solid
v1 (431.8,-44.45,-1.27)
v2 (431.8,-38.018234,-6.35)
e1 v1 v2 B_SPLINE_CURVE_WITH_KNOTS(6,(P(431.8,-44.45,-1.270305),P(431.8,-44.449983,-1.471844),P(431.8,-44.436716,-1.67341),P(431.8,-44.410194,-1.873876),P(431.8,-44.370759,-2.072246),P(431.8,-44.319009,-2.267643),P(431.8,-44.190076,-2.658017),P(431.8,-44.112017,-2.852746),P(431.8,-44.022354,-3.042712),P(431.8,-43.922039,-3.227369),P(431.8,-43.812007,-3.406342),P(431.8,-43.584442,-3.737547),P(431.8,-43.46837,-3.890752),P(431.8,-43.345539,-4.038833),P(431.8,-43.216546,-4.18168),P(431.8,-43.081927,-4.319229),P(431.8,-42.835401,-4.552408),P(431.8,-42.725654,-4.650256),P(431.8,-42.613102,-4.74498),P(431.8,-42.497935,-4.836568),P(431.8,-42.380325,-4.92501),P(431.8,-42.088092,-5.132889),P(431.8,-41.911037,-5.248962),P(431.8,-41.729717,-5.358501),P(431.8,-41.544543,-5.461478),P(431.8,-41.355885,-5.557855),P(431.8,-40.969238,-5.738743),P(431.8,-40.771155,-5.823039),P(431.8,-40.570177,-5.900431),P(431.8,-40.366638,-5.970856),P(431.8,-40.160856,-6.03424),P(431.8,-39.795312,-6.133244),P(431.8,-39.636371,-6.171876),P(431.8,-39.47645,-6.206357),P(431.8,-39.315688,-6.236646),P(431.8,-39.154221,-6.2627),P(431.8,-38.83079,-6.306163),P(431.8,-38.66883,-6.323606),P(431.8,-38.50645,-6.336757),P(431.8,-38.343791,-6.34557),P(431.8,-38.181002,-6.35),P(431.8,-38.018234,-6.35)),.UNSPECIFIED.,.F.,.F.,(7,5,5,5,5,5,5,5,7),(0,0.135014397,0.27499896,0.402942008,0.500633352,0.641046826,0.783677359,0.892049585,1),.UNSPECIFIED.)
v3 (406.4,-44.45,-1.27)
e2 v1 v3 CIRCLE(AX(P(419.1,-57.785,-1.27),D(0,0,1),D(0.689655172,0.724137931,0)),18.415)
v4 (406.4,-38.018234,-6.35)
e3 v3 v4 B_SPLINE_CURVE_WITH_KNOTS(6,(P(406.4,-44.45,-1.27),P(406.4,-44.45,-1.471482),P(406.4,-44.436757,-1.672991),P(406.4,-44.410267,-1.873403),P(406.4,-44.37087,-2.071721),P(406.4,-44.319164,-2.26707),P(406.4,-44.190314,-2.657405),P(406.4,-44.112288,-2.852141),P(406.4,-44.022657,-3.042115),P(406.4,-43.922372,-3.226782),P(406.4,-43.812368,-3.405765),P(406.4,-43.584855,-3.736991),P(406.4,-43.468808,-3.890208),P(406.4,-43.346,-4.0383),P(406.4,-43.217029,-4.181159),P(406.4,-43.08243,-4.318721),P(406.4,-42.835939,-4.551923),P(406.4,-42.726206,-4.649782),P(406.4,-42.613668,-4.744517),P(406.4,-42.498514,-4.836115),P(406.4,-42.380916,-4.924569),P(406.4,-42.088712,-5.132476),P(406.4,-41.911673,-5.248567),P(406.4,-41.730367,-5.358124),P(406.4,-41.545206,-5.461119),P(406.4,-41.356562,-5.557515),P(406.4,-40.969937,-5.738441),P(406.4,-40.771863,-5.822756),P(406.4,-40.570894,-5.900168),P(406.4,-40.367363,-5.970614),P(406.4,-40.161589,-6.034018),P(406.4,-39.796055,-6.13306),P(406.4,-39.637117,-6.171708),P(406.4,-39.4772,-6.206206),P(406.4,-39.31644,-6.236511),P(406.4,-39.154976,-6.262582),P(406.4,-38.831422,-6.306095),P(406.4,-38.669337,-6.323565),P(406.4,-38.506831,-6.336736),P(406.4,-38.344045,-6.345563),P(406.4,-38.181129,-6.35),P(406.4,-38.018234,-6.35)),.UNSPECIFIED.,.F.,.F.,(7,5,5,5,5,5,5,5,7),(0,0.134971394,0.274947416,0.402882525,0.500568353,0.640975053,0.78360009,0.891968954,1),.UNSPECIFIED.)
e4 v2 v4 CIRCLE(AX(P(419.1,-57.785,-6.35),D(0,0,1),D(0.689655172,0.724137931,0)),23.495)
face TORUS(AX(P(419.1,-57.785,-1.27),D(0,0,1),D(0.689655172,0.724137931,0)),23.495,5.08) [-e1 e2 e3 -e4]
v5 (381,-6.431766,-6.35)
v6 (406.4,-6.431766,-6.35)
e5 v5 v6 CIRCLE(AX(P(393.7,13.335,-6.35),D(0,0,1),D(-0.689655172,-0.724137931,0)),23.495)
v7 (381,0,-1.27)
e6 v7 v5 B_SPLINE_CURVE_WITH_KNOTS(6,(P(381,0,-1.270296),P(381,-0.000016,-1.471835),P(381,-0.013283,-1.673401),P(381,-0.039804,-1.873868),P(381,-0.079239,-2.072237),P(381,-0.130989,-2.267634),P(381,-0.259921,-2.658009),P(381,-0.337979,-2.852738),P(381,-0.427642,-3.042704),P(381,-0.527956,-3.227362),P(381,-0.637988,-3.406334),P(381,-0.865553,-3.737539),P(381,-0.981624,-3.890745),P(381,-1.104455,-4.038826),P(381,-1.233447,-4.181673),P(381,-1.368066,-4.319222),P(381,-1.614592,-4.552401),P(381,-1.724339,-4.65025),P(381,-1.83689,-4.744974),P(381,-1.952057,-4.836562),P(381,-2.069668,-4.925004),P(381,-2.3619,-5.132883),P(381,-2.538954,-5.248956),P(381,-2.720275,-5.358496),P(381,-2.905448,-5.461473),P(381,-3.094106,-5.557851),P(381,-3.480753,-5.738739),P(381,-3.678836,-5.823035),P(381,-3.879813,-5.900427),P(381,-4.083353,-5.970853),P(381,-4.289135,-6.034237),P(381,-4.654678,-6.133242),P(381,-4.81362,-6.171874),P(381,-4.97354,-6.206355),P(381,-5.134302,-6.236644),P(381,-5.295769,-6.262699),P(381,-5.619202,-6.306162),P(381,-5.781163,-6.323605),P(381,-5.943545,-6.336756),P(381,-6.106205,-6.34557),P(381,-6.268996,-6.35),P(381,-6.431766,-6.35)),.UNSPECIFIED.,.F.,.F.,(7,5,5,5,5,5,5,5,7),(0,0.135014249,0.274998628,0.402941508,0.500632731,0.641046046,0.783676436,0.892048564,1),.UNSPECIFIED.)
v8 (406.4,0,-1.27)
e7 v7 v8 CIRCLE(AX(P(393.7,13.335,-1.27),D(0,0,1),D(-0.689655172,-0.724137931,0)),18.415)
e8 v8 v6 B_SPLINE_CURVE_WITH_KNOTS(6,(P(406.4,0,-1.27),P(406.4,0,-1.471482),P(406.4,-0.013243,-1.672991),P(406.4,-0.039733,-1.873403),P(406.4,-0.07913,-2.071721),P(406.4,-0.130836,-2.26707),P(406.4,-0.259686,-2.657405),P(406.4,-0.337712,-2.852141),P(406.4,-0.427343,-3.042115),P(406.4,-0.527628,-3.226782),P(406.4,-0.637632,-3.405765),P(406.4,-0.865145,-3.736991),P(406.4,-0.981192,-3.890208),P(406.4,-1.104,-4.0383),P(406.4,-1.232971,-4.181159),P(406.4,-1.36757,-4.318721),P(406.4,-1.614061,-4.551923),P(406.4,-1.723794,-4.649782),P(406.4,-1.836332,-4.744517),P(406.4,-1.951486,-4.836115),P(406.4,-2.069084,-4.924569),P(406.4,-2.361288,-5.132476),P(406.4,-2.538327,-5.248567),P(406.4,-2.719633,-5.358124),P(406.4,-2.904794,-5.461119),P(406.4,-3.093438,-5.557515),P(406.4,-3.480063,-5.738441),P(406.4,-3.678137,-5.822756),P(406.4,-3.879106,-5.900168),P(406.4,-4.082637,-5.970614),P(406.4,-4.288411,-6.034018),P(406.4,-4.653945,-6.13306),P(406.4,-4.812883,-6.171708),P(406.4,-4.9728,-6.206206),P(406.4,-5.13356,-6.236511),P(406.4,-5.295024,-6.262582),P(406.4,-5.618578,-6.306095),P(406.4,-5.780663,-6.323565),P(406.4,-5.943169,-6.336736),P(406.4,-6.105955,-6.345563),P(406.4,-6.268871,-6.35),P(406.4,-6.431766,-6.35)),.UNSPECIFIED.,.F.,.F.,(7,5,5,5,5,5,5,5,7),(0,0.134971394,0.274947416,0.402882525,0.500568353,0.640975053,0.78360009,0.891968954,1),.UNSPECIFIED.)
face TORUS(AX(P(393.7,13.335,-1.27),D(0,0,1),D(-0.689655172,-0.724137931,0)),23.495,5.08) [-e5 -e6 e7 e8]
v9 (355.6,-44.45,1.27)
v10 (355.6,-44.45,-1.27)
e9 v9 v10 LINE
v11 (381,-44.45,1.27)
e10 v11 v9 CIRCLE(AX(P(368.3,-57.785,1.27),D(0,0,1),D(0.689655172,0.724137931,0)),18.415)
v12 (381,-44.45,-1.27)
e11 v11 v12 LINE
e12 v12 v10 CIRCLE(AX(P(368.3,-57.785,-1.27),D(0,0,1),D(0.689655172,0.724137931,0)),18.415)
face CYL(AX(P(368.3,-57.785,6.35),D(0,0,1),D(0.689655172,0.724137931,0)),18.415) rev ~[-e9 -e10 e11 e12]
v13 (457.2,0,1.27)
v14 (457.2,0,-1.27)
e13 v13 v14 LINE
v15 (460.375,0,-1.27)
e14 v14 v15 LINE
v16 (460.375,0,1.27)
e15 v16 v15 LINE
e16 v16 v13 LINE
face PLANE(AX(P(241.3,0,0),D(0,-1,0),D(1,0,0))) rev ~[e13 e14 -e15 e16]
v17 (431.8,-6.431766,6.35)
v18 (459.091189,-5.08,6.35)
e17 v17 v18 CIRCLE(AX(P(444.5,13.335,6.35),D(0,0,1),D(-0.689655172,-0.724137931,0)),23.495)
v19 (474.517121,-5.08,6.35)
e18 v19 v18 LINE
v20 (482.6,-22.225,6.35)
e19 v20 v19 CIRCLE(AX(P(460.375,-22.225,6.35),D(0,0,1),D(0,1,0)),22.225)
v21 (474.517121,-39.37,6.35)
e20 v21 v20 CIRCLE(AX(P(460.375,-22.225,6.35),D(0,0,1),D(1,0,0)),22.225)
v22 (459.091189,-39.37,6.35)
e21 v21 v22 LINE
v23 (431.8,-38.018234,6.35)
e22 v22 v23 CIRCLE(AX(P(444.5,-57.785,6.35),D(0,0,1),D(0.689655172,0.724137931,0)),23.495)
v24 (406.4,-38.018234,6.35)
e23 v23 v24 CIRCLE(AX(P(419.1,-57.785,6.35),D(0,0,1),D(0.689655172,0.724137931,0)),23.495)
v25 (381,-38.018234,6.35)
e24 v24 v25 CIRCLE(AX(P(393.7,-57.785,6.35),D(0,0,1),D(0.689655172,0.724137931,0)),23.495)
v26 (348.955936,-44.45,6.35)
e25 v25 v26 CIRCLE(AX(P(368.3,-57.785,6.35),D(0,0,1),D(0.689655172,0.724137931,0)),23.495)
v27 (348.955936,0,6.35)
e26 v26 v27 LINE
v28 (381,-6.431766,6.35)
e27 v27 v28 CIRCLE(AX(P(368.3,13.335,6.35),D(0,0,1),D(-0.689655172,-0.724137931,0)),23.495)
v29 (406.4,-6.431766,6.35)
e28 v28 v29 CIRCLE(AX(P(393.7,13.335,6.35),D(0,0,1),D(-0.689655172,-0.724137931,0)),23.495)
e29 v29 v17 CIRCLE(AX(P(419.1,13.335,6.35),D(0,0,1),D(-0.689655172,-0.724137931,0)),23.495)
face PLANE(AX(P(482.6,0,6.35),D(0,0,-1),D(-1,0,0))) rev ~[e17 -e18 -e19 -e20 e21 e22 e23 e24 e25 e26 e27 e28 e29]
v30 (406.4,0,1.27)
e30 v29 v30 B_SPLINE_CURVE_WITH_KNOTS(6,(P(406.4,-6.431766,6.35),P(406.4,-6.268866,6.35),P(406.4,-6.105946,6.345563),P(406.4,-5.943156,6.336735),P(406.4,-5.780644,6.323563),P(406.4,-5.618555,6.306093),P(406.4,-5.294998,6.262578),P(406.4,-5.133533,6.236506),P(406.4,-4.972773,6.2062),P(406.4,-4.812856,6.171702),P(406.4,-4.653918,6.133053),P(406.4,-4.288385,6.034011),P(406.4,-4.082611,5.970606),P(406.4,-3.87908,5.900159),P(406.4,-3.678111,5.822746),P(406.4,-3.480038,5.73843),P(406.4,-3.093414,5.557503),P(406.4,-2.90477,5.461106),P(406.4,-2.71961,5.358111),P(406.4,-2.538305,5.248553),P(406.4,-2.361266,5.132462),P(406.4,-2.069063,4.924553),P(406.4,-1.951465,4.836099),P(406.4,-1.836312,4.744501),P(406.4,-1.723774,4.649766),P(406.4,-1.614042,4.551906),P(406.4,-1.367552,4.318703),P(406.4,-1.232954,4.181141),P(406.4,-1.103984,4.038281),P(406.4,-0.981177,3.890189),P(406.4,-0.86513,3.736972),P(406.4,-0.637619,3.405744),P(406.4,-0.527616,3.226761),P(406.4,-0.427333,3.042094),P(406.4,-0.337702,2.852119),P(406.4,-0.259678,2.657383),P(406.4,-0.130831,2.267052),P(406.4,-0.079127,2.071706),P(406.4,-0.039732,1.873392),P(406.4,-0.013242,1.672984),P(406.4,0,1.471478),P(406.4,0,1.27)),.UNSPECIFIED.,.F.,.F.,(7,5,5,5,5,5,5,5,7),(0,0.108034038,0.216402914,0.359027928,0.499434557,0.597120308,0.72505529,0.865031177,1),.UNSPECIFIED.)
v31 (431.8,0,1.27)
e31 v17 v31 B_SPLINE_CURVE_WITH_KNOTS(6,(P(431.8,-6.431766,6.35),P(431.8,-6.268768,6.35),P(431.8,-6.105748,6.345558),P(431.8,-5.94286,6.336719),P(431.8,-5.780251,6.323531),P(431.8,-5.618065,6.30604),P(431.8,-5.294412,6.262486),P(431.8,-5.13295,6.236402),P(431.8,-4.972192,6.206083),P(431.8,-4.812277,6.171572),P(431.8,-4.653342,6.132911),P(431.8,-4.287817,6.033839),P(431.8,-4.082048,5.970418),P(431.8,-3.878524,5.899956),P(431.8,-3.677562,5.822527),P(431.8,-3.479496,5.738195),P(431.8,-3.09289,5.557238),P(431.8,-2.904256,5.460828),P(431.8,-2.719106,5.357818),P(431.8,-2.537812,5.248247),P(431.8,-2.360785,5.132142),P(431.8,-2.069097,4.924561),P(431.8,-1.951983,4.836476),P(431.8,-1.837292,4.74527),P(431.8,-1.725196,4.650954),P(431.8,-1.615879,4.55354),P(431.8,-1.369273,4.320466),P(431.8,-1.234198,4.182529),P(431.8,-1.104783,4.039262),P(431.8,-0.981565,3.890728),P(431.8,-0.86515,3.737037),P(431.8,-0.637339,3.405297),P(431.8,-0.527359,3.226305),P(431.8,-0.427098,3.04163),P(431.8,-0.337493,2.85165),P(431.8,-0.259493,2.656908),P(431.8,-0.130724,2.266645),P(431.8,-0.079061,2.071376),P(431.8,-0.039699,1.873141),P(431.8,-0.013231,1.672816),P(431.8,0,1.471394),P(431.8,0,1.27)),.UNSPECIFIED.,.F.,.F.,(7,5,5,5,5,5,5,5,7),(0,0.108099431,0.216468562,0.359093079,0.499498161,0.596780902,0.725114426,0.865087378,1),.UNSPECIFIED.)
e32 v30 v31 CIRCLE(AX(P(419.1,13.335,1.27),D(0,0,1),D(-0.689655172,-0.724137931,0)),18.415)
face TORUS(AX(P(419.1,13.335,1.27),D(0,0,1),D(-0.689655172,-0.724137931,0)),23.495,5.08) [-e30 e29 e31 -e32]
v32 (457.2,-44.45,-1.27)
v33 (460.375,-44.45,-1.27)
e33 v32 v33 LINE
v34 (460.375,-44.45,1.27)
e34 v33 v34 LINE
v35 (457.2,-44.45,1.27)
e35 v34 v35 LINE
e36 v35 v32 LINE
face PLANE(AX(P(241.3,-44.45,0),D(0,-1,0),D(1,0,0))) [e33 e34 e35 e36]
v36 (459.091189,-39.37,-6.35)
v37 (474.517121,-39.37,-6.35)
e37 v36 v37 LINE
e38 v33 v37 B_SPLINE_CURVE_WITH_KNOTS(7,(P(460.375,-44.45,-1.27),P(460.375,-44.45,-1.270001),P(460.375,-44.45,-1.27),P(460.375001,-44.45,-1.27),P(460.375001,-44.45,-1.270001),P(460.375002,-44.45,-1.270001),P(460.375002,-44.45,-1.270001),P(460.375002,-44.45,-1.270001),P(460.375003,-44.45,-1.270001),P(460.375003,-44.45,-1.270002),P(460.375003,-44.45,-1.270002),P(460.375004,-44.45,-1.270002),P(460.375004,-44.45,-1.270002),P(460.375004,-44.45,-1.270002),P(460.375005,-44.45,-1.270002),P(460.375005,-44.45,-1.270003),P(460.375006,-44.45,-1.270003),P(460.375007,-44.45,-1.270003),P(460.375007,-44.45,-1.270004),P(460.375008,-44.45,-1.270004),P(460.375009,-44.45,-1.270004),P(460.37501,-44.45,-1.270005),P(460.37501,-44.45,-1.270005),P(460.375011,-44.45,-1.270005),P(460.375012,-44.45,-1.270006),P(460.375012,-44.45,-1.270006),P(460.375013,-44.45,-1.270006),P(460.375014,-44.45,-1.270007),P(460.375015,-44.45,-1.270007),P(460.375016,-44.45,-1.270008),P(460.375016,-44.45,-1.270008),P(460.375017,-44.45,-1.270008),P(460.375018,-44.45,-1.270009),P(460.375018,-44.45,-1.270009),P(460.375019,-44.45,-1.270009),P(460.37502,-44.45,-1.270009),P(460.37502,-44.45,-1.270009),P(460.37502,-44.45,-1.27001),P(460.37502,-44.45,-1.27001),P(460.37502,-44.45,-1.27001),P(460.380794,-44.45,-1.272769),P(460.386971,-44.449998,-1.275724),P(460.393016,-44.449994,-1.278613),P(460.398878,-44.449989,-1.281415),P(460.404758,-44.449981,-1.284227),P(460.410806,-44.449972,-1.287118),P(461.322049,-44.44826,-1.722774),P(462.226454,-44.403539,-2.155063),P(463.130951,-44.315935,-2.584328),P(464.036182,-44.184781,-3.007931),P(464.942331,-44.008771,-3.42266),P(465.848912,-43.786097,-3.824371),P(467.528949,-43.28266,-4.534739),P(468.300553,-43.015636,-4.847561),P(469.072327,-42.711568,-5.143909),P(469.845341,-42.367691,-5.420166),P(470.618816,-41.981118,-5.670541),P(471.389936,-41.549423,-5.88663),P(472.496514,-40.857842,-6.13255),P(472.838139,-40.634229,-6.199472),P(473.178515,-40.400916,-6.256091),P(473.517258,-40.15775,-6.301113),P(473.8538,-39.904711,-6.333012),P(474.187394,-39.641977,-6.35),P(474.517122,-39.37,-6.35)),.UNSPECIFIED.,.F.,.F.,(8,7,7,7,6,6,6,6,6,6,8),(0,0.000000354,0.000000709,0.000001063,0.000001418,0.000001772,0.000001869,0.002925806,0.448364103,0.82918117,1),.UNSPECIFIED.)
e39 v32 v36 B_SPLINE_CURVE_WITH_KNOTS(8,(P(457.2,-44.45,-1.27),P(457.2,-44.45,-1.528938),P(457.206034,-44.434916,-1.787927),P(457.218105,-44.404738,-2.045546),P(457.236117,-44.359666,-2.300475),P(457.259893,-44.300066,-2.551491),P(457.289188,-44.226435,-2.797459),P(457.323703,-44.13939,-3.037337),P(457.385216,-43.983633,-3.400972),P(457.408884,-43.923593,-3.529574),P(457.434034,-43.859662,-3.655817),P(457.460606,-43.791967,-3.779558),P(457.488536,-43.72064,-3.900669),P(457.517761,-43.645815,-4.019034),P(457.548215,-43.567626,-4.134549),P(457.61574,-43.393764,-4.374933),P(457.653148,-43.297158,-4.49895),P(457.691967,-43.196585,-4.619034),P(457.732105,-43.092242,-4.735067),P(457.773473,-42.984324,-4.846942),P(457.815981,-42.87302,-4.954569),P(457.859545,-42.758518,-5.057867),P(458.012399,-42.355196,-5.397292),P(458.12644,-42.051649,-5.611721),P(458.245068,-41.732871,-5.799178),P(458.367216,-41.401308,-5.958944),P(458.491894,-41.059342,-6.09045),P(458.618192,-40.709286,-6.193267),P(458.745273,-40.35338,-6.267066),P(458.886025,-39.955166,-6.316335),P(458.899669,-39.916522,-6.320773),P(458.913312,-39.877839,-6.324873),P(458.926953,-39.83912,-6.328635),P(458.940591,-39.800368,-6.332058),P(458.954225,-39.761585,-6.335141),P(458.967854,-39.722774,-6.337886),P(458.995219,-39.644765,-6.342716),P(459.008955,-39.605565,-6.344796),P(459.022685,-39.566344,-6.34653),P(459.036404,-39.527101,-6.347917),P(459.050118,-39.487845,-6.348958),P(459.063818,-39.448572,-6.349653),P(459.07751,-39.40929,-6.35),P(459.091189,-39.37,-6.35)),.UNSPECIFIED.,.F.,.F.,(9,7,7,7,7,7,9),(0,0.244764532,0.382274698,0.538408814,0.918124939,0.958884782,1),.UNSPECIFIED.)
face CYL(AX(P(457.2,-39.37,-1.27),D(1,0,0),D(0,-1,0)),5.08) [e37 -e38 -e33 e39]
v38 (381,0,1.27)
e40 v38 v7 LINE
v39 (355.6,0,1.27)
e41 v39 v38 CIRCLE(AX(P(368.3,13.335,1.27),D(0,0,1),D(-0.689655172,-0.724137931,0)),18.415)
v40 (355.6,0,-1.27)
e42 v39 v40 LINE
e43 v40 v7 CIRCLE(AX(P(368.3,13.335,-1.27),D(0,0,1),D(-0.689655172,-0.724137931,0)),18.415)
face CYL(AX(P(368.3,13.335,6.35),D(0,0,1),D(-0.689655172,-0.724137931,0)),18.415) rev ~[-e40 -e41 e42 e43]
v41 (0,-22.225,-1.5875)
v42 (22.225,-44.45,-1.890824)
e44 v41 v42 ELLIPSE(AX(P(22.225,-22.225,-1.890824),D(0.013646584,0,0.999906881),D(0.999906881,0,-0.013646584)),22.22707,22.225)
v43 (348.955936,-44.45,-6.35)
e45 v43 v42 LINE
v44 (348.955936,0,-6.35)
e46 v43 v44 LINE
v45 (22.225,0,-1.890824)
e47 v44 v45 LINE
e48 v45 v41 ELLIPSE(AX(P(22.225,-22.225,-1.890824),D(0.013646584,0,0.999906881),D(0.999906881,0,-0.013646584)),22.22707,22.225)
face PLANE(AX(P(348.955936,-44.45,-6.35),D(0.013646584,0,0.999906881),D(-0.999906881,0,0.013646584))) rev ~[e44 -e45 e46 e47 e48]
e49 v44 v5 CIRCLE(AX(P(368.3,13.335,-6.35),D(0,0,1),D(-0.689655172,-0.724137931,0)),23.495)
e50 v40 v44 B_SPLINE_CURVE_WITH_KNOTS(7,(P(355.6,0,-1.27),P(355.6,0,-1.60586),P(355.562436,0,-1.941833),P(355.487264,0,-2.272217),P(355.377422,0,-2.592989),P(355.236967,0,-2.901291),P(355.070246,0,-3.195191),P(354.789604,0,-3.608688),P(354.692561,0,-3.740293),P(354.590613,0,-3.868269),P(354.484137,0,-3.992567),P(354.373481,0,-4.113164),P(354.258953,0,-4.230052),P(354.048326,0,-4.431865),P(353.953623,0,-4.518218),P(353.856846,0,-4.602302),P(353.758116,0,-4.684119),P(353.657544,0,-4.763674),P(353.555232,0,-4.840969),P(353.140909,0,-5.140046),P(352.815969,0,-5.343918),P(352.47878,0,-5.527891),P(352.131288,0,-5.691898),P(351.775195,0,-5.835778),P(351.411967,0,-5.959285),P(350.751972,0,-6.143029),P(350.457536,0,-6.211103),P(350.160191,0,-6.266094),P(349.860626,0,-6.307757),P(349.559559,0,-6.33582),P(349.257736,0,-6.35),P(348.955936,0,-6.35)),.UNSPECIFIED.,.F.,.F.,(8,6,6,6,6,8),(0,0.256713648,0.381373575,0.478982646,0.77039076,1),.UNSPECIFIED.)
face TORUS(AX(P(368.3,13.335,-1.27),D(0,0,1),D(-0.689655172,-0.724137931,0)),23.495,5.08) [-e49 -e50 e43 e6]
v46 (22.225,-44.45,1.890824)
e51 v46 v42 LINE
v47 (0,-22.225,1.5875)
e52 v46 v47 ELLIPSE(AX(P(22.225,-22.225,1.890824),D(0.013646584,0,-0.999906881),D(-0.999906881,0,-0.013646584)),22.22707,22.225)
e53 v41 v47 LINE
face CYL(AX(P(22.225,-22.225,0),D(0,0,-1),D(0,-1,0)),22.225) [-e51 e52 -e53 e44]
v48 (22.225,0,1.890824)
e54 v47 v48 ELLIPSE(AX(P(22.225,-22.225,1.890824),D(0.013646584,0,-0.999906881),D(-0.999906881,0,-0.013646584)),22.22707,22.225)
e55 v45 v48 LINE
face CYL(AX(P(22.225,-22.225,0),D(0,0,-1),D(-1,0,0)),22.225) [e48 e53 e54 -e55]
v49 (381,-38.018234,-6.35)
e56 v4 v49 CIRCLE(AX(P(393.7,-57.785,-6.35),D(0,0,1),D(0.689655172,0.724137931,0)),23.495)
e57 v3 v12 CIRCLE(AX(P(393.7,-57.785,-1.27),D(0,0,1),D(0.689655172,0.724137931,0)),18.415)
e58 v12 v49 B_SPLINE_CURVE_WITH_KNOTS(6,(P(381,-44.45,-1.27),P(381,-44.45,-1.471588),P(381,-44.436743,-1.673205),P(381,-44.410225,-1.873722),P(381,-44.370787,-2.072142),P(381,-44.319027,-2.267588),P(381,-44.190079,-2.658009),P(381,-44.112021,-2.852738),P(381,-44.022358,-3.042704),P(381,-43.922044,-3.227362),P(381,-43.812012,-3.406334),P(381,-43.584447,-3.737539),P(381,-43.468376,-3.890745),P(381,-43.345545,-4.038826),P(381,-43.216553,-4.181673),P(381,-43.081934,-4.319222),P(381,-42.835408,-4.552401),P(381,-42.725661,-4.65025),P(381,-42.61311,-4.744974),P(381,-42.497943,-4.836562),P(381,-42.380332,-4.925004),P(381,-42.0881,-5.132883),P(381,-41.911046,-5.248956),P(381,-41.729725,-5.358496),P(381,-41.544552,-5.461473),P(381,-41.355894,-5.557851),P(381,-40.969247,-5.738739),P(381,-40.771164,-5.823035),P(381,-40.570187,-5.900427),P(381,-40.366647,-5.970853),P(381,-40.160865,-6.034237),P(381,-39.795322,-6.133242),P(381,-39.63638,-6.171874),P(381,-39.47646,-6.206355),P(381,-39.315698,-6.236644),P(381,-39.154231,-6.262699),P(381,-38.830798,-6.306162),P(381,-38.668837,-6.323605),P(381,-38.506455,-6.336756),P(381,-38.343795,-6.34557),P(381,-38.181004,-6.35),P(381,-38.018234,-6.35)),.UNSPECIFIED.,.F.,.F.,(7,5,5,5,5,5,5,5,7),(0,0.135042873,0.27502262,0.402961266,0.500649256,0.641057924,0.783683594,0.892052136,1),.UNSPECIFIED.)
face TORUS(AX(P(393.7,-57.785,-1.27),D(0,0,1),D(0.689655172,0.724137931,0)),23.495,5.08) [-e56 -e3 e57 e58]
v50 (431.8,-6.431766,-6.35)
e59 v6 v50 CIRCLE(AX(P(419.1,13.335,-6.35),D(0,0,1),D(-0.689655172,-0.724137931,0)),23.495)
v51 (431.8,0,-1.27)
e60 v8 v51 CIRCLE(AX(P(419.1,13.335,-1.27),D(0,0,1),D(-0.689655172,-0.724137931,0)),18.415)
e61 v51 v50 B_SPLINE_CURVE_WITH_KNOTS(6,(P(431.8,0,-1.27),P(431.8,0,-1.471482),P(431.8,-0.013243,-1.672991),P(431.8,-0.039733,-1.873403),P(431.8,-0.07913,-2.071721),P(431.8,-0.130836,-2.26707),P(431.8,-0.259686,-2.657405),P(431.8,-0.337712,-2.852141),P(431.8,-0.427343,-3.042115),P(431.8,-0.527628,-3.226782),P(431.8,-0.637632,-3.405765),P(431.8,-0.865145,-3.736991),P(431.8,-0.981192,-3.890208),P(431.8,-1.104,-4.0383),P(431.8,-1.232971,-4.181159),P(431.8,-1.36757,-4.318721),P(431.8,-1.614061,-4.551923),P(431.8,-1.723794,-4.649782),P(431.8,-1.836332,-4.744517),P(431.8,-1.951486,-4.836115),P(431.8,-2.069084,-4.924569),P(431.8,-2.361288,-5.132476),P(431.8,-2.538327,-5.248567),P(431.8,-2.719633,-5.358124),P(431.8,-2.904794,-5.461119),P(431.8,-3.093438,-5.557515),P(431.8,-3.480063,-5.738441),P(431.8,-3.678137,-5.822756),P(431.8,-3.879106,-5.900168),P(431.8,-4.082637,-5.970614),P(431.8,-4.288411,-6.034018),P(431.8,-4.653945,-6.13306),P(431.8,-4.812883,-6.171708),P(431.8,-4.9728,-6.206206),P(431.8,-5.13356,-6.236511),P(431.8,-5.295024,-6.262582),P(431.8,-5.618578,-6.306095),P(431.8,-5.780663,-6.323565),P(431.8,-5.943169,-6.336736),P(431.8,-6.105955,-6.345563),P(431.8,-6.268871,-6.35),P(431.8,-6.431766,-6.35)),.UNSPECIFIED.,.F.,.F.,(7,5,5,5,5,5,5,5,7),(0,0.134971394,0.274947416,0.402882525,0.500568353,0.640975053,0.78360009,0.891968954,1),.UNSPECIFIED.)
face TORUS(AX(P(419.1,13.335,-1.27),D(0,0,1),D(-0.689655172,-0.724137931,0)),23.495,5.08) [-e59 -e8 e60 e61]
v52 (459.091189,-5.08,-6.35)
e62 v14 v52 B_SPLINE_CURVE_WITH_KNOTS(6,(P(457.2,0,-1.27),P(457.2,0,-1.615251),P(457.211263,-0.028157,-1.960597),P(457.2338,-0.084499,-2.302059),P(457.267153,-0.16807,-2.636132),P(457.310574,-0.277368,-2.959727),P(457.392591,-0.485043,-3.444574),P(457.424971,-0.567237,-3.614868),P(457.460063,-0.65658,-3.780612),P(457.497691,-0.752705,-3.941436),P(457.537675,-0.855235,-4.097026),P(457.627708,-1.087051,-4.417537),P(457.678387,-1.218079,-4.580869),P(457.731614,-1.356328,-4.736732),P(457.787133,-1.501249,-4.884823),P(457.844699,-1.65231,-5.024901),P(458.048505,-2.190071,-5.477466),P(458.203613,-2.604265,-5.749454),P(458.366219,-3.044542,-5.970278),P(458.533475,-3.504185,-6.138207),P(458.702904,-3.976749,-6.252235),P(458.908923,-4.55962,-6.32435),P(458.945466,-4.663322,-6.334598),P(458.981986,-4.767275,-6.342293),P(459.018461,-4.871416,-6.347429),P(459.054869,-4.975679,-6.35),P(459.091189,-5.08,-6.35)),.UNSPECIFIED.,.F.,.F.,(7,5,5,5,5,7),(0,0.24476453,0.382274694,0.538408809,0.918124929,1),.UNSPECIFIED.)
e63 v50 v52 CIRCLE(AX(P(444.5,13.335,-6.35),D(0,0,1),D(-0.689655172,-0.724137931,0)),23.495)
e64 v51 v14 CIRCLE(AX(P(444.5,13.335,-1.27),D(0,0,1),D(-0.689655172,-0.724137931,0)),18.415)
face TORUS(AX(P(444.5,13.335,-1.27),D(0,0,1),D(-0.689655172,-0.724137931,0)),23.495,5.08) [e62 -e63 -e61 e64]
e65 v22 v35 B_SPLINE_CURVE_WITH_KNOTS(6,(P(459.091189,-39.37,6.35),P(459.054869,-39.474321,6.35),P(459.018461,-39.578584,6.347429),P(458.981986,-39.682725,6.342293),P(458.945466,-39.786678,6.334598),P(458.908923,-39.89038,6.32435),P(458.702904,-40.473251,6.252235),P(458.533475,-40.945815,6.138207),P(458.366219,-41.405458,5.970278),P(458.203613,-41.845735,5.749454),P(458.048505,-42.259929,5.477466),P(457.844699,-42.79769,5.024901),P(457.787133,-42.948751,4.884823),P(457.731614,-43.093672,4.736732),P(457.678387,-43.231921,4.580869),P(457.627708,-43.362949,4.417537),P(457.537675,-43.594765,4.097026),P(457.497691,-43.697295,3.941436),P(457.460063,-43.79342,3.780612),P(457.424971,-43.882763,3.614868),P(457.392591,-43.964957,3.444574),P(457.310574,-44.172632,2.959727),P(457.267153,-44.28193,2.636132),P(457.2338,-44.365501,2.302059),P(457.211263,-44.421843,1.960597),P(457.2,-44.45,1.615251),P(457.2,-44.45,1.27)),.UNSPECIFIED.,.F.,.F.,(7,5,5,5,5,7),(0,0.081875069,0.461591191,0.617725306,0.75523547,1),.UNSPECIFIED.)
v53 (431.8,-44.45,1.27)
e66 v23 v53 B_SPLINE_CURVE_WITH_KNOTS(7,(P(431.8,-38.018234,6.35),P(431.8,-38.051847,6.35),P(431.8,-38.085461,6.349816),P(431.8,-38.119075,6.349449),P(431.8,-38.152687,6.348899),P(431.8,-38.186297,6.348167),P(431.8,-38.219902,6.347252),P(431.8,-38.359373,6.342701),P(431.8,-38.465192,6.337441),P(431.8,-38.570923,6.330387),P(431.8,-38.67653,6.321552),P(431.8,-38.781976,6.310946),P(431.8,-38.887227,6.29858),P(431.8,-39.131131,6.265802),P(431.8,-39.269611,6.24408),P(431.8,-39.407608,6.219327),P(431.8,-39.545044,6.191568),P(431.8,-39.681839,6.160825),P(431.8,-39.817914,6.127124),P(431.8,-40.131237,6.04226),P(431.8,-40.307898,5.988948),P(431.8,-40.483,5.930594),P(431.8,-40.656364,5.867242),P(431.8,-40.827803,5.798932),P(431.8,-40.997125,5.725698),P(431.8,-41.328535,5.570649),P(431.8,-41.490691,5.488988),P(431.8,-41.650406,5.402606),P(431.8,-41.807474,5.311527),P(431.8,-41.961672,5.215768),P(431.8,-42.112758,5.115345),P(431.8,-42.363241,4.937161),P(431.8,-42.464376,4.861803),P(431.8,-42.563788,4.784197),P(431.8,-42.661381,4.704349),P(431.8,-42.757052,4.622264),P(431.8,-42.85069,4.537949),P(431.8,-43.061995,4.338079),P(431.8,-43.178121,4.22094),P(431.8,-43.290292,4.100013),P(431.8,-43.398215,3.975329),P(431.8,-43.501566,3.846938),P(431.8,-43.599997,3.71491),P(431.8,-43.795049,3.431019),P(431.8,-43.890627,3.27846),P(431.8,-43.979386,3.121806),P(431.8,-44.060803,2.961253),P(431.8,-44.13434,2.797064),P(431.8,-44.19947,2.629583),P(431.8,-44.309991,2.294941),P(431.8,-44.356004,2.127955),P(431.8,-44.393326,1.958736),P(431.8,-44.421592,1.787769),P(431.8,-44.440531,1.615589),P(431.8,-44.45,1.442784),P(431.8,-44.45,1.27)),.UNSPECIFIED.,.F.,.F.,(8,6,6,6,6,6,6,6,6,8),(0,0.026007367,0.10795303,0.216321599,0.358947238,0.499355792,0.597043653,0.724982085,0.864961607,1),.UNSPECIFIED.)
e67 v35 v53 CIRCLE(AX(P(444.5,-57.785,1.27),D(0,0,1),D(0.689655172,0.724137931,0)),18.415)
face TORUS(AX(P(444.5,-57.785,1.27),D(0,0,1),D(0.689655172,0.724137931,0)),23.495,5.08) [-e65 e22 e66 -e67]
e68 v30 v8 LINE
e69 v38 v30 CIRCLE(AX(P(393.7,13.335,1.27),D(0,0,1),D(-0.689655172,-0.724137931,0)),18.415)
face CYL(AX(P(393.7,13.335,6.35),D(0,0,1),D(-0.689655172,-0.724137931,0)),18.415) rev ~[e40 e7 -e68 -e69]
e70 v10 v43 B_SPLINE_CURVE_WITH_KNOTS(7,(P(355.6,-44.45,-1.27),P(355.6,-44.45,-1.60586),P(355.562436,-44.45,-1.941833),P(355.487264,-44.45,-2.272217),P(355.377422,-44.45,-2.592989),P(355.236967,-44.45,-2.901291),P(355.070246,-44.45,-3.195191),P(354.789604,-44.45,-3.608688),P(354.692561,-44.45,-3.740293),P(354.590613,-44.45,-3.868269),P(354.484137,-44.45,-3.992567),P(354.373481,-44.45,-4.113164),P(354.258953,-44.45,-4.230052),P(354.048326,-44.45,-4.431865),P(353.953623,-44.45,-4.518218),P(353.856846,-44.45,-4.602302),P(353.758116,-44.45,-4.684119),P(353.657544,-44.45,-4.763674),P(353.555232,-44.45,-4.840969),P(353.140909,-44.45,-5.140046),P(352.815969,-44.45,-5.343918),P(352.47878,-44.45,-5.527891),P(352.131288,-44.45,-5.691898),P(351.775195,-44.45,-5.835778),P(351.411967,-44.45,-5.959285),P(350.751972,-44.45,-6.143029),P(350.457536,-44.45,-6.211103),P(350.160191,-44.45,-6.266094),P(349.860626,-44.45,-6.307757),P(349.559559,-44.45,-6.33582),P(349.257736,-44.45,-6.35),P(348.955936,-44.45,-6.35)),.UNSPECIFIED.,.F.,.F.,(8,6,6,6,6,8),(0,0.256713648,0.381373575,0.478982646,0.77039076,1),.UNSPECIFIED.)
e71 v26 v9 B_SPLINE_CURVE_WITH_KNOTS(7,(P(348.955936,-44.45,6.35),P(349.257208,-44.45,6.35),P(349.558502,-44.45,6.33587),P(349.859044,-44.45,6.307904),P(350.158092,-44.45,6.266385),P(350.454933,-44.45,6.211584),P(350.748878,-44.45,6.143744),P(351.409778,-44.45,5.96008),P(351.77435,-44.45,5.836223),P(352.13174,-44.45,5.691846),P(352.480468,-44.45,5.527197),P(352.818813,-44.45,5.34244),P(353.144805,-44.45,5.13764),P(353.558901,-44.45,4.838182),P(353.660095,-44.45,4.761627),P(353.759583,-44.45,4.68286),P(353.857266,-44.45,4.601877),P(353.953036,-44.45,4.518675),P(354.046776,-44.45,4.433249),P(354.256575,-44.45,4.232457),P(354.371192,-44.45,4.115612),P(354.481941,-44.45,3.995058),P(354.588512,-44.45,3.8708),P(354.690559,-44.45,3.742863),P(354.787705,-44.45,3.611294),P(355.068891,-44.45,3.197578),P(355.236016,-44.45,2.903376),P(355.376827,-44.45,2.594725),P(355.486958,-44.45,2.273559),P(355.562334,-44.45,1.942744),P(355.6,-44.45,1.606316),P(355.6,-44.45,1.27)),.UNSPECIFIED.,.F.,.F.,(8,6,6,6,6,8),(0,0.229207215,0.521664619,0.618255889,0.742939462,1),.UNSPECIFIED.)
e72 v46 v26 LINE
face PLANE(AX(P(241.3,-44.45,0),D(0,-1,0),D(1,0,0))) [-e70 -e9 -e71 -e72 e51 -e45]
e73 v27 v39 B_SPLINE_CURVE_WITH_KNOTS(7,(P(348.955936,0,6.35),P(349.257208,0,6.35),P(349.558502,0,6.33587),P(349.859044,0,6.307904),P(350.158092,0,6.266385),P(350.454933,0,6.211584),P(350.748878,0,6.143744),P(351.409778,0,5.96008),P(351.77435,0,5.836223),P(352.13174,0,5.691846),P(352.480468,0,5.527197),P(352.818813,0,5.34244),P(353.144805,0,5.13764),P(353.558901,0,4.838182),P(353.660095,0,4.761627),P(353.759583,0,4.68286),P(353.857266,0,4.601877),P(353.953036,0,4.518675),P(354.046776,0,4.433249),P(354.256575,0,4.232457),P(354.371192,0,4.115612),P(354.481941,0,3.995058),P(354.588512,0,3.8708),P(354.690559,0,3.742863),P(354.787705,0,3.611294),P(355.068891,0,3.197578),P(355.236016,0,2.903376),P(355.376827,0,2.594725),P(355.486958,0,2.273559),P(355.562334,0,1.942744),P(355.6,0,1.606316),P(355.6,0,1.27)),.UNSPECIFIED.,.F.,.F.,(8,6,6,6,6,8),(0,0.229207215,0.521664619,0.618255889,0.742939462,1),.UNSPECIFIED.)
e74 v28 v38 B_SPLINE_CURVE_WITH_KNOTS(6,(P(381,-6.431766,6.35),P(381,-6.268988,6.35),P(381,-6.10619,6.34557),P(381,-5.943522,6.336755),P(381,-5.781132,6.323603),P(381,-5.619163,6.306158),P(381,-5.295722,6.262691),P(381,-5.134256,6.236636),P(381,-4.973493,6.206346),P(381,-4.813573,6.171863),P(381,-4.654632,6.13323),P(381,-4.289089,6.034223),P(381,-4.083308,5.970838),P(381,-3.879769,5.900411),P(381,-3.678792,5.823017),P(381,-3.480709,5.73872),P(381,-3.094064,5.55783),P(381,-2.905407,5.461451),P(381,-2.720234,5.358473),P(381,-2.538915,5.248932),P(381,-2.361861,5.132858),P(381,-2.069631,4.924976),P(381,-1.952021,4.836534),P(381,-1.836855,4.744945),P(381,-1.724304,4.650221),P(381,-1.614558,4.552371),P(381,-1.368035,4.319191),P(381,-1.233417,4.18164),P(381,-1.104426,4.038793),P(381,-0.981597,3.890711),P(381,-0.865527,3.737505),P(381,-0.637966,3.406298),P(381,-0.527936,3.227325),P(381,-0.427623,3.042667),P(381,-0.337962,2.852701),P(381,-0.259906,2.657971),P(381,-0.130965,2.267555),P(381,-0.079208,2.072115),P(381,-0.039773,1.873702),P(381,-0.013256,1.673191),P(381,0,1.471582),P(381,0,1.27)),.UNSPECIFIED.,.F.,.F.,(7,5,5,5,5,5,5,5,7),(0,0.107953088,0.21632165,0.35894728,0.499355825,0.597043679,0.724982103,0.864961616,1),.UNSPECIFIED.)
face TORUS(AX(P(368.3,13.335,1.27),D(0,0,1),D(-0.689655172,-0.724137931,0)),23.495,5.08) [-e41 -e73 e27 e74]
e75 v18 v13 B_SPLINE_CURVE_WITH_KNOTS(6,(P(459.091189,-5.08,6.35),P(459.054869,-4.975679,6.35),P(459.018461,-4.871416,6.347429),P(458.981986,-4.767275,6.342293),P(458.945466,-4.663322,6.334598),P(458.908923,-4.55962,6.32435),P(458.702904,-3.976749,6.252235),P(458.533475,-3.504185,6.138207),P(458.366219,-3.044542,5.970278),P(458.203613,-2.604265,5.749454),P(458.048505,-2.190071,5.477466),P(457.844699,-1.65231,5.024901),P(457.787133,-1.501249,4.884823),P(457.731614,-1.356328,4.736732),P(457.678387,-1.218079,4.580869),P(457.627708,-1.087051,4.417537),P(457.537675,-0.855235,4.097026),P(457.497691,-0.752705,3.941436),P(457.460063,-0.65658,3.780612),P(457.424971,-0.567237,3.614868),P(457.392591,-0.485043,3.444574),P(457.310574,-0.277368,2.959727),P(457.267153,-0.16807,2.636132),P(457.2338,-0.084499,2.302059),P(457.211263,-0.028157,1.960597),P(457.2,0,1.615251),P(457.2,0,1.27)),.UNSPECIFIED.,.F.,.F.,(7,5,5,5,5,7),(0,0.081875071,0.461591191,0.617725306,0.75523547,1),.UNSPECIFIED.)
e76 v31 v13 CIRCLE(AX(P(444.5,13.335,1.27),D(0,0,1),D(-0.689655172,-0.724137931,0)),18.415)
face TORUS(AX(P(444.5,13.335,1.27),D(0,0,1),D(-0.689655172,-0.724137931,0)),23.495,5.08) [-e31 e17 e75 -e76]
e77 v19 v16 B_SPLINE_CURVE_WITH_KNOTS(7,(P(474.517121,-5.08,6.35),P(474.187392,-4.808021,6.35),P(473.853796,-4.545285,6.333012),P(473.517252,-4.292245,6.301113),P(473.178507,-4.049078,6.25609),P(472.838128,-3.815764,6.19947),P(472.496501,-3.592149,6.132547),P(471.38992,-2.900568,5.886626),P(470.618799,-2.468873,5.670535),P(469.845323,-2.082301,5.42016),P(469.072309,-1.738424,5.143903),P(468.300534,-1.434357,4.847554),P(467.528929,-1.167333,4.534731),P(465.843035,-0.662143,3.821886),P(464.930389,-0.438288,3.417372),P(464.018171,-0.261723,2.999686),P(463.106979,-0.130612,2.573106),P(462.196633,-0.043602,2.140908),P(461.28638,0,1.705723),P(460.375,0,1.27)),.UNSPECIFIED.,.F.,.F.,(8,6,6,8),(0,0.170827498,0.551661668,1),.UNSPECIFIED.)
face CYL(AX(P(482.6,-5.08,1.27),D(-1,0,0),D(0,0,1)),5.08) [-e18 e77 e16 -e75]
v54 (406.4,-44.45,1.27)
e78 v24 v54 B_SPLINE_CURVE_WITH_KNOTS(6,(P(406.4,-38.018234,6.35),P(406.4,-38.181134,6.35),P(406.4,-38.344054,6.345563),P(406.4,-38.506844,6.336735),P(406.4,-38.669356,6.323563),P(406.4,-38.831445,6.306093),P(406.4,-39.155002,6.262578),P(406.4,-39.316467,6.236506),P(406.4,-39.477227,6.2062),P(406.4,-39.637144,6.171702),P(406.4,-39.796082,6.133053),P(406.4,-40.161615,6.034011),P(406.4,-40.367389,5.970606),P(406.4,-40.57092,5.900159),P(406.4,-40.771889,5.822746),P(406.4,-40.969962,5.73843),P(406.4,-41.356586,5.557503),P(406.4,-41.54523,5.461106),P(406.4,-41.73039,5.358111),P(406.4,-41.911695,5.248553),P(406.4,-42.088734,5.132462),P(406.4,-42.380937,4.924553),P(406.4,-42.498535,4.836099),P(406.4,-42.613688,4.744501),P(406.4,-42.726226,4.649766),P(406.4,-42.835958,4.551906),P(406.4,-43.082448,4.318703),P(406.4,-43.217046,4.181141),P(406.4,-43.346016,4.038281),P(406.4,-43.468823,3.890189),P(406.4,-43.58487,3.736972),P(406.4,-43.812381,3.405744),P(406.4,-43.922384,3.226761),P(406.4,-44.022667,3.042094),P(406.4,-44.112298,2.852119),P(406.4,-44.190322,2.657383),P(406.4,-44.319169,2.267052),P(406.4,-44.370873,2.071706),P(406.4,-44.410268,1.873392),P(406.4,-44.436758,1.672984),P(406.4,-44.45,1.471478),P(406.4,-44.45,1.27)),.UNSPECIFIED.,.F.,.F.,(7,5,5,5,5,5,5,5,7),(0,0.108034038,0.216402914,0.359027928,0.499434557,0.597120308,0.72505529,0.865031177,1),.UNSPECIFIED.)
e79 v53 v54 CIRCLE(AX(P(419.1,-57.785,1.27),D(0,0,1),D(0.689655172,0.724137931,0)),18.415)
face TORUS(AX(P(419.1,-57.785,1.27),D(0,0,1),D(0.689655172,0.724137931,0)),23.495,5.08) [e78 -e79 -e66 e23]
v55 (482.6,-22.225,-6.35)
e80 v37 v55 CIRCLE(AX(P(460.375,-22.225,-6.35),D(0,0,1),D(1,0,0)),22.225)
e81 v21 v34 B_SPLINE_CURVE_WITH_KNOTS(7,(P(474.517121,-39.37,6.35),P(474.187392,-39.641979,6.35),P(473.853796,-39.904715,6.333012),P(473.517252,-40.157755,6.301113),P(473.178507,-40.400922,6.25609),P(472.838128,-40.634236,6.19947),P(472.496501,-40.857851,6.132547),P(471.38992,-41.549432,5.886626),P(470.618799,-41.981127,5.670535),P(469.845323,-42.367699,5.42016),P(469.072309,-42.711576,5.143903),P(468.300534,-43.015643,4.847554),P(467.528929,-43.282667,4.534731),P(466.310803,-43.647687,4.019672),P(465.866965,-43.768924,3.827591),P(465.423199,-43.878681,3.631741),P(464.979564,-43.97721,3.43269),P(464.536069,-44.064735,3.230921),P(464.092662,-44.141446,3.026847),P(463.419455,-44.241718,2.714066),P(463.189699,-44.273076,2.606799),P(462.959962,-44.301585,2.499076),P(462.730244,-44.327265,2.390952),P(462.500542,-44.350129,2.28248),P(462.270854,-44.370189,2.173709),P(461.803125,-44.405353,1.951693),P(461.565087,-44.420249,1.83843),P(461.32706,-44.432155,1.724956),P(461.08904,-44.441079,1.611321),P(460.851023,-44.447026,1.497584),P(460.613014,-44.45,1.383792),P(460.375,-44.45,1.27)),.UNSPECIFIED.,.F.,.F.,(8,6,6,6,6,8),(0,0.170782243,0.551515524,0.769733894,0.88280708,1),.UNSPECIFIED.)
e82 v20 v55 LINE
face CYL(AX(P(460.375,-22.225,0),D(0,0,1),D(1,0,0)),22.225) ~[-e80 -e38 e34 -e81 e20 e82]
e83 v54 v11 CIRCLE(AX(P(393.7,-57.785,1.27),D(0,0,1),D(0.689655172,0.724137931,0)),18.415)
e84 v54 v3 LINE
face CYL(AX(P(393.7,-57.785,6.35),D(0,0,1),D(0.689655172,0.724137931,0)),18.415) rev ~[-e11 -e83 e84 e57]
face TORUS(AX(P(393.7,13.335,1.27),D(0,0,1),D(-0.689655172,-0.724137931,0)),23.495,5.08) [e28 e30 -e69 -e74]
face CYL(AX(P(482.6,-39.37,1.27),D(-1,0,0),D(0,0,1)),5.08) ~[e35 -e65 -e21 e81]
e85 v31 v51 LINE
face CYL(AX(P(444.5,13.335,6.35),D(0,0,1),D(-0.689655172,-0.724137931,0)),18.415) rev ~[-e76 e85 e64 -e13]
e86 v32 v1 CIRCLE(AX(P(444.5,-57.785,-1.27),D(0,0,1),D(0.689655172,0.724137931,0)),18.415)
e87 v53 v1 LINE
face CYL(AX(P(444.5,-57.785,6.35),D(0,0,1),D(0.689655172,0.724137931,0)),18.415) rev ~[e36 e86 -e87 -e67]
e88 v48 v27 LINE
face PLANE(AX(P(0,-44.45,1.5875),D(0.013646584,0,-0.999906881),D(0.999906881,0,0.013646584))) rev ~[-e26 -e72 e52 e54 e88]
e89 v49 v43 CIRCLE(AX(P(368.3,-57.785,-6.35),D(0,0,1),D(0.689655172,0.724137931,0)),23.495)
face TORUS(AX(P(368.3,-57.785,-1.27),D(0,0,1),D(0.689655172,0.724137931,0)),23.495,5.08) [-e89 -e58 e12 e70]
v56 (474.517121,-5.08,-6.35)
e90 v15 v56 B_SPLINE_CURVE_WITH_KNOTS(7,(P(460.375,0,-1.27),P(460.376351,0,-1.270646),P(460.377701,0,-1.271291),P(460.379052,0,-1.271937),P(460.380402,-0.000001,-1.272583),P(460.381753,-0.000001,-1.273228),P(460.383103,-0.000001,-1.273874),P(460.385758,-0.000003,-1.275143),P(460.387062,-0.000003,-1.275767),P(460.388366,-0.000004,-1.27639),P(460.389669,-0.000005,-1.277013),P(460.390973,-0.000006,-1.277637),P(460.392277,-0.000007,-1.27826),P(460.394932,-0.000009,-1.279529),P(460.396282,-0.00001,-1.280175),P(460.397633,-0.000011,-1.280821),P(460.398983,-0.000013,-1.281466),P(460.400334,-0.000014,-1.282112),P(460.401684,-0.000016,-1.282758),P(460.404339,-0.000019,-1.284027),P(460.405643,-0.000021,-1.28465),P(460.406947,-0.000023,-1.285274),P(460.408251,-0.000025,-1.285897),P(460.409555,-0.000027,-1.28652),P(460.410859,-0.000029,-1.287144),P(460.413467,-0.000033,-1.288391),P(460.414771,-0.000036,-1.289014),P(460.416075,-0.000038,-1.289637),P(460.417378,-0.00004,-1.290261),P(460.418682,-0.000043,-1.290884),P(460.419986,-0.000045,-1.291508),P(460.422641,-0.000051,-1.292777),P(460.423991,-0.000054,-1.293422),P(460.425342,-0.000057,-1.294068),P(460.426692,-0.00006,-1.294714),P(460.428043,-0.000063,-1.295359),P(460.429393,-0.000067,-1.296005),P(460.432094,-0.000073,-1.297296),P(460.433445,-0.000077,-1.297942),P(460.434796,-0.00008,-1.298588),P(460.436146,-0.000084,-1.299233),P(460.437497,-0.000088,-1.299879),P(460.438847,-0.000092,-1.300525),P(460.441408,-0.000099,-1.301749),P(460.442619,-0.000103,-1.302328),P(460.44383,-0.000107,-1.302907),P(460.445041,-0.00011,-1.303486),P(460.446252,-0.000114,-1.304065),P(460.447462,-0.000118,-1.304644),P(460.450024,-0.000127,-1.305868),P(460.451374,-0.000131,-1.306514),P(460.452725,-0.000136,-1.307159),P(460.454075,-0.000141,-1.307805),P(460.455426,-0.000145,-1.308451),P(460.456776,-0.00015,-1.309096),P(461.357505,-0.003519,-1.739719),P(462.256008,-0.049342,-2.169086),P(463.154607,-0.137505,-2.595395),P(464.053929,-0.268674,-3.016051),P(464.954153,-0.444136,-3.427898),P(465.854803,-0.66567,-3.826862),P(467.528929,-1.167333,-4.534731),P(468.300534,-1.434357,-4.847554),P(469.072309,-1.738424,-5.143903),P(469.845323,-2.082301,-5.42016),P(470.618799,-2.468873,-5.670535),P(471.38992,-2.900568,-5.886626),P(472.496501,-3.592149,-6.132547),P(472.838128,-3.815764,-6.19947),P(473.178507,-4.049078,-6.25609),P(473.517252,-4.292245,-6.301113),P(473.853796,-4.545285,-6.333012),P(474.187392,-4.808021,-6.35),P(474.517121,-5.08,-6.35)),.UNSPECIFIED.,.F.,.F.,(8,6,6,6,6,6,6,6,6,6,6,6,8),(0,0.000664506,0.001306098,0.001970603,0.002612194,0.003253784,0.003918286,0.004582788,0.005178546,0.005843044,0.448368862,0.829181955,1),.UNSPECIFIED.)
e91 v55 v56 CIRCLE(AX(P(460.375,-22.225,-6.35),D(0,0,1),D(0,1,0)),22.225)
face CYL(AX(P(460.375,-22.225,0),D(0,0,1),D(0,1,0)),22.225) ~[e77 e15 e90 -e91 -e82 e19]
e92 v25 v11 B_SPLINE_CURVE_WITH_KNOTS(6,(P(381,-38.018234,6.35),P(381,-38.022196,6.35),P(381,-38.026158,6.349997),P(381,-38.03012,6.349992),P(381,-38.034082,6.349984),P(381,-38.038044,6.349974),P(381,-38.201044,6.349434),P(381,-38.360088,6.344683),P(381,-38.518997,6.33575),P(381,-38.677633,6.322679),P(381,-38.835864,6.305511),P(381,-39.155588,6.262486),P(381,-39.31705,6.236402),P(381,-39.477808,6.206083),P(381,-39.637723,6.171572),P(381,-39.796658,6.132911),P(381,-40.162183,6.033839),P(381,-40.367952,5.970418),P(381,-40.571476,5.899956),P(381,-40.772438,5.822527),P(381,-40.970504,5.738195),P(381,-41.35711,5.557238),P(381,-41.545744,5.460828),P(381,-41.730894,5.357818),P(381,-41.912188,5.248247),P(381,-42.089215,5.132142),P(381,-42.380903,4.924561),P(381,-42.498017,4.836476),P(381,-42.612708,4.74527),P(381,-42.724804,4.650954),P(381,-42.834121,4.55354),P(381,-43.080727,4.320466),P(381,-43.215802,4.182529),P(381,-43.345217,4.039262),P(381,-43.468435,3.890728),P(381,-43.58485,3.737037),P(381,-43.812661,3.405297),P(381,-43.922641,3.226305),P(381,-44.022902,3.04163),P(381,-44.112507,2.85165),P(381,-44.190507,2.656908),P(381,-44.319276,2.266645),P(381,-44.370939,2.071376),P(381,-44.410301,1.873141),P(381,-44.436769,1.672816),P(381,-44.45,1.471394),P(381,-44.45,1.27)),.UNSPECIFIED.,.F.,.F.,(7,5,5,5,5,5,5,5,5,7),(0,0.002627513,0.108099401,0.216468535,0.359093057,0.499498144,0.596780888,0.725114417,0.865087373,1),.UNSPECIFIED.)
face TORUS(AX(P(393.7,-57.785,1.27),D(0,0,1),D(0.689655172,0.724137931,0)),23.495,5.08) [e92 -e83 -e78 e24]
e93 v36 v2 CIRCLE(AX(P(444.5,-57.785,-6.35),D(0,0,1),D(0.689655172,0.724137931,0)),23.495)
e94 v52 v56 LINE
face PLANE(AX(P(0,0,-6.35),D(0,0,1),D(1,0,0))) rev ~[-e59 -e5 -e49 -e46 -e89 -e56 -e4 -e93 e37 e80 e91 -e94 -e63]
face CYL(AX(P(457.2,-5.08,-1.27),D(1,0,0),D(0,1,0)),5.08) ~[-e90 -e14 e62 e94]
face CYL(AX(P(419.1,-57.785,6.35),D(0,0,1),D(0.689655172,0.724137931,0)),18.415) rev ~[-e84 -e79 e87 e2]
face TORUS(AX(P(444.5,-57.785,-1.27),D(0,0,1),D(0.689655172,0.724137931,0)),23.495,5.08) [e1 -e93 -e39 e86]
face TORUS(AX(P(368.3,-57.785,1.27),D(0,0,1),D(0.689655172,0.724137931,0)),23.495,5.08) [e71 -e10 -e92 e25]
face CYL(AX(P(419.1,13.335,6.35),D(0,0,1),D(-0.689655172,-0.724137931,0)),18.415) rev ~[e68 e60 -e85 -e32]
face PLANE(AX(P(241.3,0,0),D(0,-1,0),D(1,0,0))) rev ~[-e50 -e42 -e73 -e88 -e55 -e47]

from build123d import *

# Parameters (mm, degrees)
F1_DEPTH = 44.45
F3_DEPTH = 12.701
F4_R     = 5.08
F6_DEPTH = 44.4510001
F8_DEPTH = 12.7


with BuildPart() as f1:
    # F0 (on Front) → F1 (new body)
    with BuildSketch(Plane.XZ):
        Polygon((482.6, 0), (482.6, 6.35), (0, 6.35), (0, 0), (0, -6.35), (482.6, -6.35), align=None)
    extrude(amount=F1_DEPTH)

    # F2 (on face) → F3 (cut, through all)
    with BuildSketch(Plane.XY.offset(6.35)):
        with BuildLine():
            Line((381, 0), (355.6, 0))
            ThreePointArc((355.6, 0), (368.3, -5.08), (381, 0))
        make_face()
        with BuildLine():
            Line((457.2, 0), (431.8, 0))
            ThreePointArc((431.8, 0), (444.5, -5.08), (457.2, 0))
        make_face()
        with BuildLine():
            Line((431.8, 0), (406.4, 0))
            ThreePointArc((406.4, 0), (419.1, -5.08), (431.8, 0))
        make_face()
        with BuildLine():
            Line((406.4, 0), (381, 0))
            ThreePointArc((381, 0), (393.7, -5.08), (406.4, 0))
        make_face()
        with BuildLine():
            ThreePointArc((457.2, -44.45), (444.5, -39.37), (431.8, -44.45))
            Line((431.8, -44.45), (457.2, -44.45))
        make_face()
        with BuildLine():
            ThreePointArc((431.8, -44.45), (419.1, -39.37), (406.4, -44.45))
            Line((406.4, -44.45), (431.8, -44.45))
        make_face()
        with BuildLine():
            ThreePointArc((406.4, -44.45), (393.7, -39.37), (381, -44.45))
            Line((381, -44.45), (406.4, -44.45))
        make_face()
        with BuildLine():
            ThreePointArc((381, -44.45), (368.3, -39.37), (355.6, -44.45))
            Line((355.6, -44.45), (381, -44.45))
        make_face()
    extrude(amount=-F3_DEPTH, mode=Mode.SUBTRACT)

    # F4
    f4_edges = [f1.edges().sort_by_distance(p)[0] for p in [
        (368.3, -39.37, 6.35),
        (393.7, -39.37, 6.35),
        (419.1, -39.37, 6.35),
        (444.5, -39.37, 6.35),
        (444.5, -5.08, 6.35),
        (419.1, -5.08, 6.35),
        (393.7, -5.08, 6.35),
        (368.3, -5.08, 6.35),
        (419.1, -39.37, -6.35),
        (393.7, -39.37, -6.35),
        (368.3, -39.37, -6.35),
        (444.5, -39.37, -6.35),
        (469.9, -44.45, 6.35),
        (469.9, -44.45, -6.35),
        (469.9, 0, 6.35),
        (469.9, 0, -6.35),
        (444.5, -5.08, -6.35),
        (419.1, -5.08, -6.35),
        (393.7, -5.08, -6.35),
        (368.3, -5.08, -6.35),
    ]]
    fillet(f4_edges, radius=F4_R)

    # F5 (on face) → F6 (cut, through all)
    with BuildSketch(Plane.XZ.offset(44.45)):
        Polygon((0, 6.35), (0, 1.5875), (348.9559363111, 6.35), align=None)
        Polygon((348.9559363111, -6.35), (0, -1.5875), (0, -6.35), align=None)
    extrude(amount=-F6_DEPTH, mode=Mode.SUBTRACT)

    # F7 (on Top) → F8 (cut, symmetric)
    with BuildSketch(Plane.XY):
        with BuildLine():
            ThreePointArc((22.225, -44.45), (6.5095517881, -37.9404482119), (0, -22.225))
            Line((0, -22.225), (0, -44.45))
            Line((0, -44.45), (22.225, -44.45))
        make_face()
        with BuildLine():
            ThreePointArc((0, -22.225), (6.5095517881, -6.5095517881), (22.225, 0))
            Line((22.225, 0), (0, 0))
            Line((0, 0), (0, -22.225))
        make_face()
        with BuildLine():
            ThreePointArc((460.375, 0), (476.0904482119, -6.5095517881), (482.6, -22.225))
            Line((482.6, -22.225), (482.6, 0))
            Line((482.6, 0), (460.375, 0))
        make_face()
        with BuildLine():
            ThreePointArc((482.6, -22.225), (476.0904482119, -37.9404482119), (460.375, -44.45))
            Line((460.375, -44.45), (482.6, -44.45))
            Line((482.6, -44.45), (482.6, -22.225))
        make_face()
    extrude(amount=F8_DEPTH, both=True, mode=Mode.SUBTRACT)


solid = f1.part
